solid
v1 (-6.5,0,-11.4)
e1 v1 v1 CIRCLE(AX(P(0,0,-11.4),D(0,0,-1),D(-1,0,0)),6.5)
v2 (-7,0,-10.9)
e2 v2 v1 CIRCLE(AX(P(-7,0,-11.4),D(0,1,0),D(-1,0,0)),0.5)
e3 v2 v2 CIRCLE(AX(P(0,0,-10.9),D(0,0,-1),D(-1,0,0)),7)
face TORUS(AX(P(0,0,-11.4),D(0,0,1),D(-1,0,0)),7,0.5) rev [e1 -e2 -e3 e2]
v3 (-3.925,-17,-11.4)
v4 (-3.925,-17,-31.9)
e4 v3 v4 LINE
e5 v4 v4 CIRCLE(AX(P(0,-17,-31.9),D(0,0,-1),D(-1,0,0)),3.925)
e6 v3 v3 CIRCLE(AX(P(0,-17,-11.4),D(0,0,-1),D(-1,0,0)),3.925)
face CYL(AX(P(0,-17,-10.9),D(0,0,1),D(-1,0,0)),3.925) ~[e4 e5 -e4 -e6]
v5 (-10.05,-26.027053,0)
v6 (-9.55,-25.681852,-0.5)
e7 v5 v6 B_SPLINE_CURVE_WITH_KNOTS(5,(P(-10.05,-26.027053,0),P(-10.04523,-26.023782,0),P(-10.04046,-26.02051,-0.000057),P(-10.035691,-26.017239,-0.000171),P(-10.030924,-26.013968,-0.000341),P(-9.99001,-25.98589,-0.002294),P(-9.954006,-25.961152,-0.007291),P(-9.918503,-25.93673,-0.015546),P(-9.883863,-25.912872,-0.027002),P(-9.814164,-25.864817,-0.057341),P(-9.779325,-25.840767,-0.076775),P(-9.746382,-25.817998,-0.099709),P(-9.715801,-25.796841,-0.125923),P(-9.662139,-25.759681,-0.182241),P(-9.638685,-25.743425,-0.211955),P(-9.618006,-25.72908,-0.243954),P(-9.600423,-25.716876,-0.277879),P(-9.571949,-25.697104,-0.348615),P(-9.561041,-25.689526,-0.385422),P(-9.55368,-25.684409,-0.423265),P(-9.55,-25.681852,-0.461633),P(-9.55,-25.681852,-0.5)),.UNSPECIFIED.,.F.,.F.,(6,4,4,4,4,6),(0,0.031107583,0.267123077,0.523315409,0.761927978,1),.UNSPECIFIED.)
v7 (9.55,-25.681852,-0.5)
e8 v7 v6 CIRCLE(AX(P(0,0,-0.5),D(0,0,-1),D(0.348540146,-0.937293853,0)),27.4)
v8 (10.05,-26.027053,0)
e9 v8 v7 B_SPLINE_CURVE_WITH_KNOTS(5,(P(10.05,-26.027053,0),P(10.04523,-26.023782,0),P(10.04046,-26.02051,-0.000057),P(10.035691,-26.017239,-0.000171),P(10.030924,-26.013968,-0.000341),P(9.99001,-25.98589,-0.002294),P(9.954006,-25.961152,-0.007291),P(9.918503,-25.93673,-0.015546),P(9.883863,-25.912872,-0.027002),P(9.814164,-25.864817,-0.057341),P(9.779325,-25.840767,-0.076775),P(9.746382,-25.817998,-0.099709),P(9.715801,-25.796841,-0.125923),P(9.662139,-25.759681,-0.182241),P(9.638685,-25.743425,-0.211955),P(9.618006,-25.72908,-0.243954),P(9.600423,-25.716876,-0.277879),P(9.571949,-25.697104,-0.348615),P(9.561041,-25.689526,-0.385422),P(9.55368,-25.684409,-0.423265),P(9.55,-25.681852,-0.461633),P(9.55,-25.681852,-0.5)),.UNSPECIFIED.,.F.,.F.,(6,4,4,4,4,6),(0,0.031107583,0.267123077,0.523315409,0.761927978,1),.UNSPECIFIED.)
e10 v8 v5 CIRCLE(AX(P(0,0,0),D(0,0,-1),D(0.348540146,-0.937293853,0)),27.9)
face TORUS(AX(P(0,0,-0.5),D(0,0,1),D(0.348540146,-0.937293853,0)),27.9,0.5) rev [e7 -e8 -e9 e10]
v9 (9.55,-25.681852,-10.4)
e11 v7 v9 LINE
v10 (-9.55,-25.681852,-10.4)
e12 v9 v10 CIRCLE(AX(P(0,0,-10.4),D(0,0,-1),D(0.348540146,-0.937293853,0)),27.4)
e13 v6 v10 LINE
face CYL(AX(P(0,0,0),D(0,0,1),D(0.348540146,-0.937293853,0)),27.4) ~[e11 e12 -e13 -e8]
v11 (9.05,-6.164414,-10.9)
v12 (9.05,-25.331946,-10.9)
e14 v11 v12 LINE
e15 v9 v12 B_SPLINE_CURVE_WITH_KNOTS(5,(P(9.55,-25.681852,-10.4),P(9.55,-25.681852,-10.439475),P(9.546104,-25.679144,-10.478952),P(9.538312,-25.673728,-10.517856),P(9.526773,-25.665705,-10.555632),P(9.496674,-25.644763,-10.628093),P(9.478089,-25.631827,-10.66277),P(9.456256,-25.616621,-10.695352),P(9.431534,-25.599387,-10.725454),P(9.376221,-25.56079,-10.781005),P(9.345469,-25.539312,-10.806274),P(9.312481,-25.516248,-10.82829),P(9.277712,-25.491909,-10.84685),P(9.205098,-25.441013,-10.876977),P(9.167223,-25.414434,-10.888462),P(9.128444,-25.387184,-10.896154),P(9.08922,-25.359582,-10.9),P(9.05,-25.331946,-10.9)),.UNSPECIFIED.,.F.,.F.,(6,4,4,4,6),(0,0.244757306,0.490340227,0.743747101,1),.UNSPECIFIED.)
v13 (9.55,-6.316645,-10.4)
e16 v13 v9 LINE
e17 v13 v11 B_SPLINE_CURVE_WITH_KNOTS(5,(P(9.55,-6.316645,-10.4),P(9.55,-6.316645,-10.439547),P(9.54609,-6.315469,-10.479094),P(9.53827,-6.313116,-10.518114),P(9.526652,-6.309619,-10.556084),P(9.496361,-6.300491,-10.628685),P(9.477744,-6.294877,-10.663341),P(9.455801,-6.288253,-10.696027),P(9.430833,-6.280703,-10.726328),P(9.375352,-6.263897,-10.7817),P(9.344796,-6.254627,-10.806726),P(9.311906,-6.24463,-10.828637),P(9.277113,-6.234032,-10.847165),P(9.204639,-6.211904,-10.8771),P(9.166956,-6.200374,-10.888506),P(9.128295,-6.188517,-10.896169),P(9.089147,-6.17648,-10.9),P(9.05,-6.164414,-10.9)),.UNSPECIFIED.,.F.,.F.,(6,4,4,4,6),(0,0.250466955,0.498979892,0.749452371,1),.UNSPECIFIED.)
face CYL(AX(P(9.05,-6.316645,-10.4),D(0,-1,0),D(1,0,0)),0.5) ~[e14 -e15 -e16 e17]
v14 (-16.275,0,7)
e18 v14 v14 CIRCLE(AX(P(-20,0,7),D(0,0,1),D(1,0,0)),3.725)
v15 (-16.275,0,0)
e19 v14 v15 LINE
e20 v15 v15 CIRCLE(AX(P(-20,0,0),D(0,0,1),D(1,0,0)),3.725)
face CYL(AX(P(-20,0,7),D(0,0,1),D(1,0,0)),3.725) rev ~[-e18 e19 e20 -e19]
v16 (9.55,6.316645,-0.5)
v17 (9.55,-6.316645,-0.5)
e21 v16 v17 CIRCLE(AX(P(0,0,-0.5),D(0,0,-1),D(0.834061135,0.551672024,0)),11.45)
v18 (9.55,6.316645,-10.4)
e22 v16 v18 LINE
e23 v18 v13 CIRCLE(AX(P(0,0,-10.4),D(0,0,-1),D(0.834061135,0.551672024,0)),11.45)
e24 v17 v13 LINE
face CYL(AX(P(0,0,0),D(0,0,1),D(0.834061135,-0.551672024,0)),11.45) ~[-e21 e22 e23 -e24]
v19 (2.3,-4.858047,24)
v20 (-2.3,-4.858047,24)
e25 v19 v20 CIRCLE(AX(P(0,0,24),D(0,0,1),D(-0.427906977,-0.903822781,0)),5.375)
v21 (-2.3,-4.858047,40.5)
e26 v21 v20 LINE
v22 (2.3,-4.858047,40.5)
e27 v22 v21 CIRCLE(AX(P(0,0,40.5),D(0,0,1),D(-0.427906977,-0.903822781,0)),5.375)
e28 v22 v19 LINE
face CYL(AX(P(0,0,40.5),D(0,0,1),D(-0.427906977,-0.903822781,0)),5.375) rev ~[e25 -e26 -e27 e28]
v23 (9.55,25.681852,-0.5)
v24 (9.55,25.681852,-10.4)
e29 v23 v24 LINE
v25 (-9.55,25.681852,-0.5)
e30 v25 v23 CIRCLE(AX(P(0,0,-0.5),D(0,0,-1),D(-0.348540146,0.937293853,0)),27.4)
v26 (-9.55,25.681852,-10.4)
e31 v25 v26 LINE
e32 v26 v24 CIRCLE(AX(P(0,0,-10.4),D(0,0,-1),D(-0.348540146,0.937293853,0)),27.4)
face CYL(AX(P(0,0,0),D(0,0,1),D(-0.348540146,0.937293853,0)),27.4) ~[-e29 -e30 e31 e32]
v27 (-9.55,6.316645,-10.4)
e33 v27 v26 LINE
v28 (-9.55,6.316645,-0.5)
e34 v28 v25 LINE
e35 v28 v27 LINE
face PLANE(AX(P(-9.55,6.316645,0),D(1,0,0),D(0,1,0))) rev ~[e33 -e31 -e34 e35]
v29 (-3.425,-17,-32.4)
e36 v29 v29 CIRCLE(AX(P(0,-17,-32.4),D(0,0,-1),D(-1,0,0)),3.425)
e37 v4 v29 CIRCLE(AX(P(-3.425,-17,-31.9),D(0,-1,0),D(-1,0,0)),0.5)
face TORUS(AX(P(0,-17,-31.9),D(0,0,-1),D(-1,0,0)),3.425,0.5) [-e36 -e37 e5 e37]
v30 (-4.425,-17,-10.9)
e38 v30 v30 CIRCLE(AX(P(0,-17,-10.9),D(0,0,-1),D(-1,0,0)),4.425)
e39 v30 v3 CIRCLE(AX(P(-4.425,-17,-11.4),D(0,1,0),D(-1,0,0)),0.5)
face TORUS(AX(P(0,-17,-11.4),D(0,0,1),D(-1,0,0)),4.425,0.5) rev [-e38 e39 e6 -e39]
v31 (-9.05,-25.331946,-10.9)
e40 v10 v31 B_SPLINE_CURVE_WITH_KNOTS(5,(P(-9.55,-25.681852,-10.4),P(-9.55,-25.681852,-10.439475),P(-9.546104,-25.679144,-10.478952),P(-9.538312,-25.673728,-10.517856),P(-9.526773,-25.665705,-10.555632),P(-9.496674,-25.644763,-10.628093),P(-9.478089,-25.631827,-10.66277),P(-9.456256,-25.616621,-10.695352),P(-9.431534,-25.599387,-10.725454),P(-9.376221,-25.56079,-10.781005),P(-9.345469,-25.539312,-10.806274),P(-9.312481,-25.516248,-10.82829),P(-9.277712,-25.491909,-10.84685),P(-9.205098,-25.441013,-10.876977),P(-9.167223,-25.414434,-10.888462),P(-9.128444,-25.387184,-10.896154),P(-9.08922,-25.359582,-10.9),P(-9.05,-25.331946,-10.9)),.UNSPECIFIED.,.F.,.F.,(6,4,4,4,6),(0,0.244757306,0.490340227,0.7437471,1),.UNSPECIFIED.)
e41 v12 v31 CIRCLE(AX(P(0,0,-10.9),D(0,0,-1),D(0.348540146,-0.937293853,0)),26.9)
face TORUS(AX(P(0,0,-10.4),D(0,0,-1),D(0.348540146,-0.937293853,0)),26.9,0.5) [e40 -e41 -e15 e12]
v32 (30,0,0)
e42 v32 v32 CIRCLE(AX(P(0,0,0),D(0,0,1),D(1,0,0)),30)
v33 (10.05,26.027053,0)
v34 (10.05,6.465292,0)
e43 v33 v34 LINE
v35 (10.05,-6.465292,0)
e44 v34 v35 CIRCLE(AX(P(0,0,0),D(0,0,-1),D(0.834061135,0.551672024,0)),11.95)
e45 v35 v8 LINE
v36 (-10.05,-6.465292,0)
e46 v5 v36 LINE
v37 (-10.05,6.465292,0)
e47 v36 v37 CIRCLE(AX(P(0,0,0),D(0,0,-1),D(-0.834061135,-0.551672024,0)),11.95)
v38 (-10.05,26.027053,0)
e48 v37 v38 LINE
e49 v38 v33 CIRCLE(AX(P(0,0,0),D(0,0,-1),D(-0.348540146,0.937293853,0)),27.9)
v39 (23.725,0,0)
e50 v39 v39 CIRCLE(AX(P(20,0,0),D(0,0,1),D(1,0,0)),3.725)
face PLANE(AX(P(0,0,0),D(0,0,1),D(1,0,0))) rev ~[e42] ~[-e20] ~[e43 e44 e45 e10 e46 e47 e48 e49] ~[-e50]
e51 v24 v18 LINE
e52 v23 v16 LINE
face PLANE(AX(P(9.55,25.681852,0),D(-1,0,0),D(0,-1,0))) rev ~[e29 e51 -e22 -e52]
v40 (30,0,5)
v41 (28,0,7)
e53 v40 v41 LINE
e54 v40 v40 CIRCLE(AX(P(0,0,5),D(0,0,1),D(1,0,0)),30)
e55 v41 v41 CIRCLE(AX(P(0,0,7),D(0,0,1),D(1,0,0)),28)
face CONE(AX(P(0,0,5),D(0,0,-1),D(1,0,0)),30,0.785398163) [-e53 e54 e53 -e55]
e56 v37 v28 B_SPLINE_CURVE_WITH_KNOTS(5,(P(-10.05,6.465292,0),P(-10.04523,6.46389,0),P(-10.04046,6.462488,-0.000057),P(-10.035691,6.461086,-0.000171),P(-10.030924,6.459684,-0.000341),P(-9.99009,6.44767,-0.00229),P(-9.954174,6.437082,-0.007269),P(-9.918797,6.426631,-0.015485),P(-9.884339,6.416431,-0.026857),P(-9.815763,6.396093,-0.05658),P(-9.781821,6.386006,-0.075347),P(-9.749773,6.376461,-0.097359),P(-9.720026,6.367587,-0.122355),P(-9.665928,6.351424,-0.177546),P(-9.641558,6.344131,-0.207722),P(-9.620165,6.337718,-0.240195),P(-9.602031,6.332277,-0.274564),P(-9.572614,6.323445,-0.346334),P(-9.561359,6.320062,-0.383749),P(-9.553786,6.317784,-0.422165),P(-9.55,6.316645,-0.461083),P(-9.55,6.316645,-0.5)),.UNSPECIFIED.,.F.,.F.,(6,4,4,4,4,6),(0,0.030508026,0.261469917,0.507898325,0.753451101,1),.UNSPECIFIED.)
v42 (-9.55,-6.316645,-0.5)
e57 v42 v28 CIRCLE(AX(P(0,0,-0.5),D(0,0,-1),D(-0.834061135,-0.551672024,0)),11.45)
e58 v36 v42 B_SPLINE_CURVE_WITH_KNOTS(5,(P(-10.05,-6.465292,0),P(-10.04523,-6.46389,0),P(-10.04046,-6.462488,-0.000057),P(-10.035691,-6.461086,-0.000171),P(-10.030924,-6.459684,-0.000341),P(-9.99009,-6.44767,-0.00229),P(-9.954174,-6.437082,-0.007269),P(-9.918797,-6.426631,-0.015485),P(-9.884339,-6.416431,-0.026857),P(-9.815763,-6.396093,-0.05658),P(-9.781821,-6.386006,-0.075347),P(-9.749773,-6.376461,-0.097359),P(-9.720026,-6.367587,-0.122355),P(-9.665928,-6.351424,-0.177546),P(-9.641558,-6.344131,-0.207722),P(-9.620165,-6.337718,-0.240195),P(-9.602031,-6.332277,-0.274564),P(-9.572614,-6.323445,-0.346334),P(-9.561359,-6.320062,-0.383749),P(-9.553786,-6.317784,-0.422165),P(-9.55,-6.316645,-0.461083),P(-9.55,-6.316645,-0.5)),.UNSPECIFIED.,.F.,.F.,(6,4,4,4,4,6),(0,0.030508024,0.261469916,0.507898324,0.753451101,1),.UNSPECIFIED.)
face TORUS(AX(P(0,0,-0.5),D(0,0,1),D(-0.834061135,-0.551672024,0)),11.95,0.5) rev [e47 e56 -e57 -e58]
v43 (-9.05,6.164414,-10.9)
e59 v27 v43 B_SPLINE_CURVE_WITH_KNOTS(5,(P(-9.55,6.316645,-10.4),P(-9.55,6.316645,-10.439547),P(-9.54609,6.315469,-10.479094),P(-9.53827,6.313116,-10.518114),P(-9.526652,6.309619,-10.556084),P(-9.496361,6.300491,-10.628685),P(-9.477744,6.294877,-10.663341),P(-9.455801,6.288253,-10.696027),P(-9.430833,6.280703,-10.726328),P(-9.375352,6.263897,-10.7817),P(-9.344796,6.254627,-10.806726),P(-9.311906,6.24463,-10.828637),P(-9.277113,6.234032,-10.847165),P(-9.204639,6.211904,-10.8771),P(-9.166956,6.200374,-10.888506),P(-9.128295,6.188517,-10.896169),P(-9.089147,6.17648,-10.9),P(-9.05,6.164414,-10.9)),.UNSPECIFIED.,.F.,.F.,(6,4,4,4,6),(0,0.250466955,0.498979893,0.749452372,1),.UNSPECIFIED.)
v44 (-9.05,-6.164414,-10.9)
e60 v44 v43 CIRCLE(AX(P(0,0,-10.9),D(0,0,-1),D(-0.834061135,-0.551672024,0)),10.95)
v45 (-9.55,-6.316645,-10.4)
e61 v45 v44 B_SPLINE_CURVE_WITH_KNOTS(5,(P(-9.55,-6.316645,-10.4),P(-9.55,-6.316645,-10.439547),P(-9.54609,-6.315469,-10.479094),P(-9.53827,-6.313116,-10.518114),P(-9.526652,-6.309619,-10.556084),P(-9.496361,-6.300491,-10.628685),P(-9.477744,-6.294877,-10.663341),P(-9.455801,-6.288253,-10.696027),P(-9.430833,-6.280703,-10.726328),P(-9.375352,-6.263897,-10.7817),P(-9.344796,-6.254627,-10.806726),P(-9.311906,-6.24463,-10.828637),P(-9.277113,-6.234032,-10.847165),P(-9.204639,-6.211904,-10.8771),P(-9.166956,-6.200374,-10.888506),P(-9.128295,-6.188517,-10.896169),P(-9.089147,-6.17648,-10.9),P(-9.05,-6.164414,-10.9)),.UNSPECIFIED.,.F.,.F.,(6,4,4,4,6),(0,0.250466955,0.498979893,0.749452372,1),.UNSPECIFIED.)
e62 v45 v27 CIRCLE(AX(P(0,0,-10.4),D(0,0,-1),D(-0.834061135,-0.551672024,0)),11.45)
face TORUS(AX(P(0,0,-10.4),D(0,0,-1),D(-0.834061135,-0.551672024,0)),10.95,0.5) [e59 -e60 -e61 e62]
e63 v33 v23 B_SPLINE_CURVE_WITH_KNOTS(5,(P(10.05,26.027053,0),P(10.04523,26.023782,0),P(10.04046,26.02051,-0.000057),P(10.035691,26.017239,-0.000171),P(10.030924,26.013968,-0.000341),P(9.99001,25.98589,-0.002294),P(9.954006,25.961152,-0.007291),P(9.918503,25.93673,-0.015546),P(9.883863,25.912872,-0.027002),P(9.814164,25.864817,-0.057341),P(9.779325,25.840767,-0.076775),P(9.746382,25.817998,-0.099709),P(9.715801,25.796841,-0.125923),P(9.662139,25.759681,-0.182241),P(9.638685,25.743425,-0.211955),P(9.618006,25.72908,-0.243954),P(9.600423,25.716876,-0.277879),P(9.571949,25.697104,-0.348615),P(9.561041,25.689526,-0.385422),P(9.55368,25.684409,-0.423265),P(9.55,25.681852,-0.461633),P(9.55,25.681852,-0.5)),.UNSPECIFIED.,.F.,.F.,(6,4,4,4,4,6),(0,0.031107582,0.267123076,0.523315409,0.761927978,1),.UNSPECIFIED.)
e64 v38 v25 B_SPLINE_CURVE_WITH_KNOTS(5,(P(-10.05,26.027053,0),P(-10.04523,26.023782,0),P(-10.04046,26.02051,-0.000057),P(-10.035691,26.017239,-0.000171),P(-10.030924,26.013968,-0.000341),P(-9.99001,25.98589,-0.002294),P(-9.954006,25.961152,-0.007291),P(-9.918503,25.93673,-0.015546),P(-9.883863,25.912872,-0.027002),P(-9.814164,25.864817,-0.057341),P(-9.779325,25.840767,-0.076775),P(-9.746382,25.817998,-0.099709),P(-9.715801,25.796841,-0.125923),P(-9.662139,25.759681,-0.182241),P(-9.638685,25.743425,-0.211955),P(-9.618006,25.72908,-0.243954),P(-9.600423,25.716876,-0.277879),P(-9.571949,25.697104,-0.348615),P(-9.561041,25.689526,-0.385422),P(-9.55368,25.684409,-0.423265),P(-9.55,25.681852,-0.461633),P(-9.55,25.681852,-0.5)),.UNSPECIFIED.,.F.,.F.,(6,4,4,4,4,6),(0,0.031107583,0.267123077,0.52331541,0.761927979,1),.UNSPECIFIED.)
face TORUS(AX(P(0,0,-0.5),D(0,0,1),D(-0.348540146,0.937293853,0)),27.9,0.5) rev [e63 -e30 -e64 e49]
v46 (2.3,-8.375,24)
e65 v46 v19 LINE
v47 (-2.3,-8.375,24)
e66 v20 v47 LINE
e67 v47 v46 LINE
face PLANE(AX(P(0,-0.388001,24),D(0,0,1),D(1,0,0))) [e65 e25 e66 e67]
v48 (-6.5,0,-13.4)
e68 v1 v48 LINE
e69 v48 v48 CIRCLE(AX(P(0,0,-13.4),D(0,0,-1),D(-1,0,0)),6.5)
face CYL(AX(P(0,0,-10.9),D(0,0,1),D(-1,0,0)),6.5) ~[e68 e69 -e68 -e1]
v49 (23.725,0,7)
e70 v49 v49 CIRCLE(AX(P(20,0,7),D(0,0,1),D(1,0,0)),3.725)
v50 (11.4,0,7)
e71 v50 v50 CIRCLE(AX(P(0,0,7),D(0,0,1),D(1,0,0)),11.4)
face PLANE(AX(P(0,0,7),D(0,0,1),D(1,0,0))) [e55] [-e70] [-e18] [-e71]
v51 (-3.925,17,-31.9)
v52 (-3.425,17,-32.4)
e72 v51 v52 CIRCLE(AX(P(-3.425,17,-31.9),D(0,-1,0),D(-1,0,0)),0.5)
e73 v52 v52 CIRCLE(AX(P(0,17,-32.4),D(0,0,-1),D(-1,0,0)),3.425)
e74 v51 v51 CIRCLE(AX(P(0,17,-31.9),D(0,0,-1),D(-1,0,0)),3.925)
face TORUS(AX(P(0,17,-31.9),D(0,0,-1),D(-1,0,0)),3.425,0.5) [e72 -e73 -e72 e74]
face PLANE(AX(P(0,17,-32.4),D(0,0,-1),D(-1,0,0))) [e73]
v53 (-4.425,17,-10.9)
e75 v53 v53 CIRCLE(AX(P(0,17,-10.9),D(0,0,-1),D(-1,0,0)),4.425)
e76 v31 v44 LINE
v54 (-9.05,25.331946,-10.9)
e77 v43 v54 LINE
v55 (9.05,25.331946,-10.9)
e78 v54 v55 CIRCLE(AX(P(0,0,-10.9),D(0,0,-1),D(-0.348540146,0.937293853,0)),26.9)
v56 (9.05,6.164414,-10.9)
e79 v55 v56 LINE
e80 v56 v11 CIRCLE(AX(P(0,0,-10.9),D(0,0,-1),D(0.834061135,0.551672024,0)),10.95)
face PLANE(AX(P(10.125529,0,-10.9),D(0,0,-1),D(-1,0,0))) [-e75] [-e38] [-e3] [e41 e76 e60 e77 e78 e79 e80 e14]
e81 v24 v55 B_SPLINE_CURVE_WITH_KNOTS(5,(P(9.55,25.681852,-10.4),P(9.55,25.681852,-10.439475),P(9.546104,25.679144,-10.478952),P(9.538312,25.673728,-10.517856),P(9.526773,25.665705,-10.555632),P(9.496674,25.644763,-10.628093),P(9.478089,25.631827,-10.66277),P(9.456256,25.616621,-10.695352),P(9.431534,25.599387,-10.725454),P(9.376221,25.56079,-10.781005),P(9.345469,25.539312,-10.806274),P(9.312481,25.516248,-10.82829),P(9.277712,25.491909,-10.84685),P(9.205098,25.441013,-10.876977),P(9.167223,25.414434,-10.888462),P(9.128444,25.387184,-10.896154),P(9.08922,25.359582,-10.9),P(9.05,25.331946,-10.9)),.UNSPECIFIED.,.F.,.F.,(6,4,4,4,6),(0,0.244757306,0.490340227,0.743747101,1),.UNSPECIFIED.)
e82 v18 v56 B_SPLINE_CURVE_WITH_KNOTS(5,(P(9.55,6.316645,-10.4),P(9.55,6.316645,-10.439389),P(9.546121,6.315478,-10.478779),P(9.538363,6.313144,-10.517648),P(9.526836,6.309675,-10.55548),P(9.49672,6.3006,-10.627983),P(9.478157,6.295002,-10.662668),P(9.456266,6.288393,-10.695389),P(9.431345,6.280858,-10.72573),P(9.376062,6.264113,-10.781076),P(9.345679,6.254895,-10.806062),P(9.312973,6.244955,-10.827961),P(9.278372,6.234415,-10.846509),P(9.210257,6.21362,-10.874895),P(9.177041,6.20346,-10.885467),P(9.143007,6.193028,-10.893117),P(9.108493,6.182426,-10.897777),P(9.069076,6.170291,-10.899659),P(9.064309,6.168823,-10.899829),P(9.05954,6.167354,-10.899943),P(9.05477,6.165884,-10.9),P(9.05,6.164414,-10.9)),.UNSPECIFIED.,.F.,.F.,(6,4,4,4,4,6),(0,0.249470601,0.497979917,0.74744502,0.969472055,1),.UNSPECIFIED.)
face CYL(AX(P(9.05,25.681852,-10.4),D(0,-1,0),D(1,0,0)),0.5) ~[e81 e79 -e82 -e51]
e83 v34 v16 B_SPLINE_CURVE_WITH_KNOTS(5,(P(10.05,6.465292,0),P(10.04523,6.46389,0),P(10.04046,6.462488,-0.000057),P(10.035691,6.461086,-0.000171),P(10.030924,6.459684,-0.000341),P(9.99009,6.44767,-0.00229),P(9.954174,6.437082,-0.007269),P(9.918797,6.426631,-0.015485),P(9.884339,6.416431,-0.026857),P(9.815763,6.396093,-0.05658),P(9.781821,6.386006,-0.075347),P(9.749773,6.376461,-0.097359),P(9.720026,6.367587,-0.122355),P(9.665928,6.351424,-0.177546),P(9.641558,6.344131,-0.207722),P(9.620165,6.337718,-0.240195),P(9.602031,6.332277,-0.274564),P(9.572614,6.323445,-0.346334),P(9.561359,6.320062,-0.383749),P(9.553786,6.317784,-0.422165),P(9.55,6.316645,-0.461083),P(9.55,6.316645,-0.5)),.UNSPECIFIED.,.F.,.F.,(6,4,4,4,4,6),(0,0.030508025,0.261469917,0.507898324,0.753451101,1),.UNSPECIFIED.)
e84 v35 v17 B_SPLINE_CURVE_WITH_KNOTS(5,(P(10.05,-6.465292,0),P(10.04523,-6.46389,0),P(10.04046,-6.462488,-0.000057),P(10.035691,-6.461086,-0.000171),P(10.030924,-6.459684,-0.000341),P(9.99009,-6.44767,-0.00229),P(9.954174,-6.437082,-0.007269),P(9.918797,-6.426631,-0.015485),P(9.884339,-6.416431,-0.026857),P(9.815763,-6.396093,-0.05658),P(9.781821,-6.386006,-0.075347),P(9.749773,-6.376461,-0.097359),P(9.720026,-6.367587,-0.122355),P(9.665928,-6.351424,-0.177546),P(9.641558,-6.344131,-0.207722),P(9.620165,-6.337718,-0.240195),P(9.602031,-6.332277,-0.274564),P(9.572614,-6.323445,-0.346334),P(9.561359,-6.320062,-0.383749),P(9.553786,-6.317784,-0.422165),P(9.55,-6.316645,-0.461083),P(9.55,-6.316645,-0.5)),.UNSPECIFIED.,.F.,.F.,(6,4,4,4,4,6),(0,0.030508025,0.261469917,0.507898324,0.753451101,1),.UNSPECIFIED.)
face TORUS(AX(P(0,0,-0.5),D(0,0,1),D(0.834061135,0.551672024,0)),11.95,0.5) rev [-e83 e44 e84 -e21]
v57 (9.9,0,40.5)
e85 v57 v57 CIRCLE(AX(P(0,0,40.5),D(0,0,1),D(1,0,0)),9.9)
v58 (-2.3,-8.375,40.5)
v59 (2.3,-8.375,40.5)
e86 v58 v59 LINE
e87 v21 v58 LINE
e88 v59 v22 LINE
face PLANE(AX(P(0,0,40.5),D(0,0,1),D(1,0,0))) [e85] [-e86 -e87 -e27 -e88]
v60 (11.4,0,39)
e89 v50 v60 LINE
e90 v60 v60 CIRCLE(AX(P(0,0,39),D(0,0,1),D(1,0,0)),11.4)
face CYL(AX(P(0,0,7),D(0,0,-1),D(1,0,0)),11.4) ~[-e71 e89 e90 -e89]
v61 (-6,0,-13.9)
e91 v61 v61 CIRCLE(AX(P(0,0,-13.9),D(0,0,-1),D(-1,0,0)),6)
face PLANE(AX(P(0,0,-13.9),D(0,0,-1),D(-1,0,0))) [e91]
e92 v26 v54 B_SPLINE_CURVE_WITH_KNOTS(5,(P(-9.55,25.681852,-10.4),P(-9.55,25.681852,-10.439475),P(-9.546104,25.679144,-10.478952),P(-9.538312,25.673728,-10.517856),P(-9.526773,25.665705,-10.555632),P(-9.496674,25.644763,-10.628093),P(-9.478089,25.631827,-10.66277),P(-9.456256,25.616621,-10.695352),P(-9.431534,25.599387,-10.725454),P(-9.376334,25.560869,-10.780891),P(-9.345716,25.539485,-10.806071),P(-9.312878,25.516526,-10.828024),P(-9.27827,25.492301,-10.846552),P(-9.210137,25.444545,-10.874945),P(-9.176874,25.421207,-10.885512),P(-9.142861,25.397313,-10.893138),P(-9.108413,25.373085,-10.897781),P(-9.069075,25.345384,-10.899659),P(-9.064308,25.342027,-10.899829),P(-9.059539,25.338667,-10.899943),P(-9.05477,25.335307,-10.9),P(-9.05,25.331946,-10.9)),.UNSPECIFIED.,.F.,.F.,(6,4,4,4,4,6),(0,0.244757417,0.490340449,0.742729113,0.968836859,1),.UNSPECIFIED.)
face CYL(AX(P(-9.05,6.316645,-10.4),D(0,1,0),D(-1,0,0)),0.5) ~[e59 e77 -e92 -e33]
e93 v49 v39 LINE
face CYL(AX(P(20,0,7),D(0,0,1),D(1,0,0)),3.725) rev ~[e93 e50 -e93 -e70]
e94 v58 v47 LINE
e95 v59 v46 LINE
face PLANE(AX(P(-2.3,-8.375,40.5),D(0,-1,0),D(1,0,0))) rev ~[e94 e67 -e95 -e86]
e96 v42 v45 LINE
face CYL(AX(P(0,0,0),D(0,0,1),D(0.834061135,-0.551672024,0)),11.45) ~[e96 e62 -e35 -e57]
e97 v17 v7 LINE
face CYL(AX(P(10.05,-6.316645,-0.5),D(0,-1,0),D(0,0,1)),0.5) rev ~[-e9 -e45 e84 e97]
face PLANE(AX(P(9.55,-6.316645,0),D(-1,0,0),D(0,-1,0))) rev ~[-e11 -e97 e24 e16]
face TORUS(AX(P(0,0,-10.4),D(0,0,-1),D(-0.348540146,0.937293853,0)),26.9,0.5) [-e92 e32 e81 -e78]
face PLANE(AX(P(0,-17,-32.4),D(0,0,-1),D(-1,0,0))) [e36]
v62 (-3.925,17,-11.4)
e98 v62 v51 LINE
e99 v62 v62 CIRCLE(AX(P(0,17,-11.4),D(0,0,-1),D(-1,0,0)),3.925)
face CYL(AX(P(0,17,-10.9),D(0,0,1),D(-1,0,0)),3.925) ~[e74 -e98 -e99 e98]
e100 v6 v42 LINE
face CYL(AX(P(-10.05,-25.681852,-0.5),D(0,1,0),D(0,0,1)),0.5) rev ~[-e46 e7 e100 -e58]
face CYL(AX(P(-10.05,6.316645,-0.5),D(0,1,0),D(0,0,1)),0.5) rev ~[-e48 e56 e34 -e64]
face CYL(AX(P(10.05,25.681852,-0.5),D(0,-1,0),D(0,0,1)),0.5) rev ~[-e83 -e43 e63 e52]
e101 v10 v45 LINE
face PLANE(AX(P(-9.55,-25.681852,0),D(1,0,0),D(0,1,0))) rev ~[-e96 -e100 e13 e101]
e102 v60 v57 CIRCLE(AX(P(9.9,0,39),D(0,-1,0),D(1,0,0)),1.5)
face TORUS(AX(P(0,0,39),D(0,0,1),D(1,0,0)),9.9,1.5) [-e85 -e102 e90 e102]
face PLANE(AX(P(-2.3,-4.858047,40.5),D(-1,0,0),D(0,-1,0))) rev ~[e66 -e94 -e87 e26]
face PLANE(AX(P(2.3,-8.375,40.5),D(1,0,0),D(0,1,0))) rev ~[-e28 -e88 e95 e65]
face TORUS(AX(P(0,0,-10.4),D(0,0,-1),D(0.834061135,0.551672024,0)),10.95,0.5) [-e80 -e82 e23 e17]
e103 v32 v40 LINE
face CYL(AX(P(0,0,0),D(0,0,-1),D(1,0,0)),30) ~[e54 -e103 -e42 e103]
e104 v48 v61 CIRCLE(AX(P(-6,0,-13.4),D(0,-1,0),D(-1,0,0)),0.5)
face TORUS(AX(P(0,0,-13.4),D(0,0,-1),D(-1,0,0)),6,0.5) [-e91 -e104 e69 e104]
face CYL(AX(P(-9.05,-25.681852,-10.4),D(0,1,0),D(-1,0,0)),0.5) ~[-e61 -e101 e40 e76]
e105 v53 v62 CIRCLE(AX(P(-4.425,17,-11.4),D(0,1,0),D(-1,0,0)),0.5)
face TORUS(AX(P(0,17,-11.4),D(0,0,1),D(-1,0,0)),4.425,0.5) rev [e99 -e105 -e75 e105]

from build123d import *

# Parameters (mm, degrees)
SKETCH2_R           = 30
BOSS_EXTRUDE1_DEPTH = 7
SKETCH3_R           = 11.4
BOSS_EXTRUDE2_DEPTH = 33.5
BOSS_EXTRUDE3_DEPTH = 10.9
SKETCH5_R           = 6.5
BOSS_EXTRUDE4_DEPTH = 3
SKETCH6_R           = 3.9250000000000007
BOSS_EXTRUDE5_DEPTH = 21.5
SKETCH7_R           = 3.7250000000000045
CUT_EXTRUDE1_DEPTH  = 58.89956821946084
CUT_EXTRUDE2_DEPTH  = 16.5
CHAMFER1_SIZE       = 2
FILLET1_R           = 1.5
FILLET2_R           = 0.5


with BuildPart() as part:
    # Sketch2 → Boss-Extrude1 (new body)
    with BuildSketch(Plane.XY):
        Circle(SKETCH2_R)
    extrude(amount=BOSS_EXTRUDE1_DEPTH)

    # Sketch3 → Boss-Extrude2 (add)
    with BuildSketch(Plane.XY.offset(7)):
        Circle(SKETCH3_R)
    extrude(amount=BOSS_EXTRUDE2_DEPTH)

    # Sketch4 → Boss-Extrude3 (add)
    with BuildSketch(Plane(origin=(0, 0, 0), x_dir=(-1, 0, 0), z_dir=(0, 0, -1))):
        with BuildLine():
            Line((-9.55, -6.31664467894101), (-9.55, 6.316644678940989))
            ThreePointArc((-9.550000000000278, 6.3166446789410635), (-11.449999999999994, -9.01e-15), (-9.55000000000028, -6.316644678941083))
        make_face()
        with BuildLine():
            ThreePointArc((11.450000000000008, -1.041e-14), (10.964716138596623, 3.2981055168079236), (9.550000000000196, 6.316644678941209))
            Line((9.55, 6.316644678941156), (9.55, -6.316644678941177))
            ThreePointArc((9.550000000000196, -6.3166446789412305), (10.964716138596623, -3.2981055168079454), (11.450000000000008, -1.321e-14))
        make_face()
        with BuildLine():
            ThreePointArc((9.550000000000196, 6.316644678941209), (-8.134e-14, 11.44999999999999), (-9.550000000000278, 6.3166446789410635))
            Line((-9.55, 6.316644678940989), (-9.55, -6.31664467894101))
            ThreePointArc((-9.55000000000028, -6.316644678941083), (-7.652e-14, -11.450000000000012), (9.550000000000196, -6.3166446789412305))
            Line((9.55, -6.316644678941177), (9.55, 6.316644678941156))
        make_face()
        with BuildLine():
            Line((-9.55, -6.31664467894101), (-9.55, -25.681851568763488))
            Line((-9.55, -25.681851568763484), (9.55, -25.681851568763484))
            Line((9.55, -25.681851568763488), (9.55, -6.316644678941177))
            ThreePointArc((9.550000000000196, -6.3166446789412305), (-7.652e-14, -11.450000000000012), (-9.55000000000028, -6.316644678941083))
        make_face()
        with BuildLine():
            Line((9.55, 25.68185156876348), (-9.55, 25.68185156876348))
            Line((-9.55, 25.68185156876348), (-9.55, 6.316644678940989))
            ThreePointArc((-9.550000000000278, 6.3166446789410635), (-8.134e-14, 11.44999999999999), (9.550000000000196, 6.316644678941209))
            Line((9.55, 6.316644678941156), (9.55, 25.68185156876348))
        make_face()
        with BuildLine():
            ThreePointArc((9.55, 25.681851568763488), (-3.55e-15, 27.399999999999988), (-9.55, 25.68185156876348))
            Line((-9.55, 25.68185156876348), (9.55, 25.68185156876348))
        make_face()
        with BuildLine():
            Line((9.55, -25.681851568763484), (-9.55, -25.681851568763484))
            ThreePointArc((-9.55, -25.681851568763502), (1.91e-15, -27.40000000000001), (9.550000000000006, -25.681851568763506))
        make_face()
    extrude(amount=BOSS_EXTRUDE3_DEPTH)

    # Sketch5 → Boss-Extrude4 (add)
    with BuildSketch(Plane(origin=(0, 0, -10.9), x_dir=(-1, 0, 0), z_dir=(0, 0, -1))):
        Circle(SKETCH5_R)
    extrude(amount=BOSS_EXTRUDE4_DEPTH)

    # Sketch6 → Boss-Extrude5 (add)
    with BuildSketch(Plane(origin=(0, 0, -10.9), x_dir=(-1, 0, 0), z_dir=(0, 0, -1))):
        with Locations((4.71e-15, -17)):
            Circle(SKETCH6_R)
        with Locations((-5.7e-15, 17)):
            Circle(SKETCH6_R)
    extrude(amount=BOSS_EXTRUDE5_DEPTH)

    # Sketch7 → Cut-Extrude1 (cut, through all)
    with BuildSketch(Plane.XY.offset(7)):
        with Locations((20, 6.68e-15)):
            Circle(SKETCH7_R)
        with Locations((-20, -5.57e-15)):
            Circle(SKETCH7_R)
    extrude(amount=-CUT_EXTRUDE1_DEPTH, mode=Mode.SUBTRACT)

    # Sketch8 → Cut-Extrude2 (cut)
    with BuildSketch(Plane.XY.offset(40.5)):
        with BuildLine():
            Line((-2.3, -4.858047447277736), (-2.3000000000000003, -2.3749999999999987))
            Line((-2.3000000000000003, -2.3749999999999987), (2.2999999999999985, -2.3749999999999987))
            Line((2.2999999999999985, -2.3749999999999987), (2.2999999999999994, -4.858047447277605))
            ThreePointArc((2.2999999999999394, -4.8580474472775865), (4.541647553476583, -2.8747282480262664), (5.375, -1.32e-15))
            ThreePointArc((5.375, 0), (-2.874728248026342, 4.541647553476536), (-2.2999999999997773, -4.858047447277664))
        make_face()
        with BuildLine():
            Line((2.2999999999999985, -2.3749999999999987), (-2.3000000000000003, -2.3749999999999987))
            Line((-2.3000000000000003, -2.3749999999999987), (-2.3, -4.858047447277736))
            ThreePointArc((-2.2999999999997773, -4.858047447277664), (8.972e-14, -5.375), (2.2999999999999394, -4.8580474472775865))
            Line((2.2999999999999994, -4.858047447277605), (2.2999999999999985, -2.3749999999999987))
        make_face()
        with BuildLine():
            ThreePointArc((2.2999999999999394, -4.8580474472775865), (8.972e-14, -5.375), (-2.2999999999997773, -4.858047447277664))
            Line((-2.3, -4.858047447277736), (-2.2999999999999994, -8.375))
            Line((-2.2999999999999994, -8.375), (2.3000000000000003, -8.375))
            Line((2.3000000000000003, -8.375), (2.2999999999999994, -4.858047447277605))
        make_face()
    extrude(amount=-CUT_EXTRUDE2_DEPTH, mode=Mode.SUBTRACT)

    # Chamfer1
    chamfer1_edges = [part.edges().sort_by_distance(p)[0] for p in [
        (-30, 1.7e-14, 7),
    ]]
    chamfer(chamfer1_edges, length=CHAMFER1_SIZE)

    # Fillet1
    fillet1_edges = [part.edges().sort_by_distance(p)[0] for p in [
        (-11.4, 1.4e-15, 40.5),
    ]]
    fillet(fillet1_edges, radius=FILLET1_R)

    # Fillet2
    fillet2_edges = [part.edges().sort_by_distance(p)[0] for p in [
        (11.449999999999996, 7.372e-14, 0),
        (9.55, -15.999248123852249, 0),
        (-4e-15, -27.400000000000002, 0),
        (-9.55, -15.999248123852333, -10.9),
        (-11.45000000000001, -8.88e-15, 0),
        (-9.55, 15.999248123852318, -10.9),
        (-2.22e-15, 27.399999999999984, 0),
        (9.55, 15.999248123852235, 0),
        (11.449999999999985, -9.88e-15, -10.9),
        (9.55, -15.999248123852249, -10.9),
        (-4e-15, -27.400000000000002, -10.9),
        (-11.45000000000001, -8.626e-14, -10.9),
        (-2.22e-15, 27.399999999999984, -10.9),
        (9.55, 15.999248123852235, -10.9),
        (-9.55, 15.999248123852318, 0),
        (-9.55, -15.999248123852333, 0),
        (6.5, -2.09e-15, -10.9),
        (6.5, -2.09e-15, -13.9),
        (3.924999999999996, -17, -10.9),
        (3.924999999999996, -17, -32.4),
        (3.9250000000000065, 17, -10.9),
        (3.9250000000000065, 17, -32.4),
    ]]
    fillet(fillet2_edges, radius=FILLET2_R)


solid = part.part
